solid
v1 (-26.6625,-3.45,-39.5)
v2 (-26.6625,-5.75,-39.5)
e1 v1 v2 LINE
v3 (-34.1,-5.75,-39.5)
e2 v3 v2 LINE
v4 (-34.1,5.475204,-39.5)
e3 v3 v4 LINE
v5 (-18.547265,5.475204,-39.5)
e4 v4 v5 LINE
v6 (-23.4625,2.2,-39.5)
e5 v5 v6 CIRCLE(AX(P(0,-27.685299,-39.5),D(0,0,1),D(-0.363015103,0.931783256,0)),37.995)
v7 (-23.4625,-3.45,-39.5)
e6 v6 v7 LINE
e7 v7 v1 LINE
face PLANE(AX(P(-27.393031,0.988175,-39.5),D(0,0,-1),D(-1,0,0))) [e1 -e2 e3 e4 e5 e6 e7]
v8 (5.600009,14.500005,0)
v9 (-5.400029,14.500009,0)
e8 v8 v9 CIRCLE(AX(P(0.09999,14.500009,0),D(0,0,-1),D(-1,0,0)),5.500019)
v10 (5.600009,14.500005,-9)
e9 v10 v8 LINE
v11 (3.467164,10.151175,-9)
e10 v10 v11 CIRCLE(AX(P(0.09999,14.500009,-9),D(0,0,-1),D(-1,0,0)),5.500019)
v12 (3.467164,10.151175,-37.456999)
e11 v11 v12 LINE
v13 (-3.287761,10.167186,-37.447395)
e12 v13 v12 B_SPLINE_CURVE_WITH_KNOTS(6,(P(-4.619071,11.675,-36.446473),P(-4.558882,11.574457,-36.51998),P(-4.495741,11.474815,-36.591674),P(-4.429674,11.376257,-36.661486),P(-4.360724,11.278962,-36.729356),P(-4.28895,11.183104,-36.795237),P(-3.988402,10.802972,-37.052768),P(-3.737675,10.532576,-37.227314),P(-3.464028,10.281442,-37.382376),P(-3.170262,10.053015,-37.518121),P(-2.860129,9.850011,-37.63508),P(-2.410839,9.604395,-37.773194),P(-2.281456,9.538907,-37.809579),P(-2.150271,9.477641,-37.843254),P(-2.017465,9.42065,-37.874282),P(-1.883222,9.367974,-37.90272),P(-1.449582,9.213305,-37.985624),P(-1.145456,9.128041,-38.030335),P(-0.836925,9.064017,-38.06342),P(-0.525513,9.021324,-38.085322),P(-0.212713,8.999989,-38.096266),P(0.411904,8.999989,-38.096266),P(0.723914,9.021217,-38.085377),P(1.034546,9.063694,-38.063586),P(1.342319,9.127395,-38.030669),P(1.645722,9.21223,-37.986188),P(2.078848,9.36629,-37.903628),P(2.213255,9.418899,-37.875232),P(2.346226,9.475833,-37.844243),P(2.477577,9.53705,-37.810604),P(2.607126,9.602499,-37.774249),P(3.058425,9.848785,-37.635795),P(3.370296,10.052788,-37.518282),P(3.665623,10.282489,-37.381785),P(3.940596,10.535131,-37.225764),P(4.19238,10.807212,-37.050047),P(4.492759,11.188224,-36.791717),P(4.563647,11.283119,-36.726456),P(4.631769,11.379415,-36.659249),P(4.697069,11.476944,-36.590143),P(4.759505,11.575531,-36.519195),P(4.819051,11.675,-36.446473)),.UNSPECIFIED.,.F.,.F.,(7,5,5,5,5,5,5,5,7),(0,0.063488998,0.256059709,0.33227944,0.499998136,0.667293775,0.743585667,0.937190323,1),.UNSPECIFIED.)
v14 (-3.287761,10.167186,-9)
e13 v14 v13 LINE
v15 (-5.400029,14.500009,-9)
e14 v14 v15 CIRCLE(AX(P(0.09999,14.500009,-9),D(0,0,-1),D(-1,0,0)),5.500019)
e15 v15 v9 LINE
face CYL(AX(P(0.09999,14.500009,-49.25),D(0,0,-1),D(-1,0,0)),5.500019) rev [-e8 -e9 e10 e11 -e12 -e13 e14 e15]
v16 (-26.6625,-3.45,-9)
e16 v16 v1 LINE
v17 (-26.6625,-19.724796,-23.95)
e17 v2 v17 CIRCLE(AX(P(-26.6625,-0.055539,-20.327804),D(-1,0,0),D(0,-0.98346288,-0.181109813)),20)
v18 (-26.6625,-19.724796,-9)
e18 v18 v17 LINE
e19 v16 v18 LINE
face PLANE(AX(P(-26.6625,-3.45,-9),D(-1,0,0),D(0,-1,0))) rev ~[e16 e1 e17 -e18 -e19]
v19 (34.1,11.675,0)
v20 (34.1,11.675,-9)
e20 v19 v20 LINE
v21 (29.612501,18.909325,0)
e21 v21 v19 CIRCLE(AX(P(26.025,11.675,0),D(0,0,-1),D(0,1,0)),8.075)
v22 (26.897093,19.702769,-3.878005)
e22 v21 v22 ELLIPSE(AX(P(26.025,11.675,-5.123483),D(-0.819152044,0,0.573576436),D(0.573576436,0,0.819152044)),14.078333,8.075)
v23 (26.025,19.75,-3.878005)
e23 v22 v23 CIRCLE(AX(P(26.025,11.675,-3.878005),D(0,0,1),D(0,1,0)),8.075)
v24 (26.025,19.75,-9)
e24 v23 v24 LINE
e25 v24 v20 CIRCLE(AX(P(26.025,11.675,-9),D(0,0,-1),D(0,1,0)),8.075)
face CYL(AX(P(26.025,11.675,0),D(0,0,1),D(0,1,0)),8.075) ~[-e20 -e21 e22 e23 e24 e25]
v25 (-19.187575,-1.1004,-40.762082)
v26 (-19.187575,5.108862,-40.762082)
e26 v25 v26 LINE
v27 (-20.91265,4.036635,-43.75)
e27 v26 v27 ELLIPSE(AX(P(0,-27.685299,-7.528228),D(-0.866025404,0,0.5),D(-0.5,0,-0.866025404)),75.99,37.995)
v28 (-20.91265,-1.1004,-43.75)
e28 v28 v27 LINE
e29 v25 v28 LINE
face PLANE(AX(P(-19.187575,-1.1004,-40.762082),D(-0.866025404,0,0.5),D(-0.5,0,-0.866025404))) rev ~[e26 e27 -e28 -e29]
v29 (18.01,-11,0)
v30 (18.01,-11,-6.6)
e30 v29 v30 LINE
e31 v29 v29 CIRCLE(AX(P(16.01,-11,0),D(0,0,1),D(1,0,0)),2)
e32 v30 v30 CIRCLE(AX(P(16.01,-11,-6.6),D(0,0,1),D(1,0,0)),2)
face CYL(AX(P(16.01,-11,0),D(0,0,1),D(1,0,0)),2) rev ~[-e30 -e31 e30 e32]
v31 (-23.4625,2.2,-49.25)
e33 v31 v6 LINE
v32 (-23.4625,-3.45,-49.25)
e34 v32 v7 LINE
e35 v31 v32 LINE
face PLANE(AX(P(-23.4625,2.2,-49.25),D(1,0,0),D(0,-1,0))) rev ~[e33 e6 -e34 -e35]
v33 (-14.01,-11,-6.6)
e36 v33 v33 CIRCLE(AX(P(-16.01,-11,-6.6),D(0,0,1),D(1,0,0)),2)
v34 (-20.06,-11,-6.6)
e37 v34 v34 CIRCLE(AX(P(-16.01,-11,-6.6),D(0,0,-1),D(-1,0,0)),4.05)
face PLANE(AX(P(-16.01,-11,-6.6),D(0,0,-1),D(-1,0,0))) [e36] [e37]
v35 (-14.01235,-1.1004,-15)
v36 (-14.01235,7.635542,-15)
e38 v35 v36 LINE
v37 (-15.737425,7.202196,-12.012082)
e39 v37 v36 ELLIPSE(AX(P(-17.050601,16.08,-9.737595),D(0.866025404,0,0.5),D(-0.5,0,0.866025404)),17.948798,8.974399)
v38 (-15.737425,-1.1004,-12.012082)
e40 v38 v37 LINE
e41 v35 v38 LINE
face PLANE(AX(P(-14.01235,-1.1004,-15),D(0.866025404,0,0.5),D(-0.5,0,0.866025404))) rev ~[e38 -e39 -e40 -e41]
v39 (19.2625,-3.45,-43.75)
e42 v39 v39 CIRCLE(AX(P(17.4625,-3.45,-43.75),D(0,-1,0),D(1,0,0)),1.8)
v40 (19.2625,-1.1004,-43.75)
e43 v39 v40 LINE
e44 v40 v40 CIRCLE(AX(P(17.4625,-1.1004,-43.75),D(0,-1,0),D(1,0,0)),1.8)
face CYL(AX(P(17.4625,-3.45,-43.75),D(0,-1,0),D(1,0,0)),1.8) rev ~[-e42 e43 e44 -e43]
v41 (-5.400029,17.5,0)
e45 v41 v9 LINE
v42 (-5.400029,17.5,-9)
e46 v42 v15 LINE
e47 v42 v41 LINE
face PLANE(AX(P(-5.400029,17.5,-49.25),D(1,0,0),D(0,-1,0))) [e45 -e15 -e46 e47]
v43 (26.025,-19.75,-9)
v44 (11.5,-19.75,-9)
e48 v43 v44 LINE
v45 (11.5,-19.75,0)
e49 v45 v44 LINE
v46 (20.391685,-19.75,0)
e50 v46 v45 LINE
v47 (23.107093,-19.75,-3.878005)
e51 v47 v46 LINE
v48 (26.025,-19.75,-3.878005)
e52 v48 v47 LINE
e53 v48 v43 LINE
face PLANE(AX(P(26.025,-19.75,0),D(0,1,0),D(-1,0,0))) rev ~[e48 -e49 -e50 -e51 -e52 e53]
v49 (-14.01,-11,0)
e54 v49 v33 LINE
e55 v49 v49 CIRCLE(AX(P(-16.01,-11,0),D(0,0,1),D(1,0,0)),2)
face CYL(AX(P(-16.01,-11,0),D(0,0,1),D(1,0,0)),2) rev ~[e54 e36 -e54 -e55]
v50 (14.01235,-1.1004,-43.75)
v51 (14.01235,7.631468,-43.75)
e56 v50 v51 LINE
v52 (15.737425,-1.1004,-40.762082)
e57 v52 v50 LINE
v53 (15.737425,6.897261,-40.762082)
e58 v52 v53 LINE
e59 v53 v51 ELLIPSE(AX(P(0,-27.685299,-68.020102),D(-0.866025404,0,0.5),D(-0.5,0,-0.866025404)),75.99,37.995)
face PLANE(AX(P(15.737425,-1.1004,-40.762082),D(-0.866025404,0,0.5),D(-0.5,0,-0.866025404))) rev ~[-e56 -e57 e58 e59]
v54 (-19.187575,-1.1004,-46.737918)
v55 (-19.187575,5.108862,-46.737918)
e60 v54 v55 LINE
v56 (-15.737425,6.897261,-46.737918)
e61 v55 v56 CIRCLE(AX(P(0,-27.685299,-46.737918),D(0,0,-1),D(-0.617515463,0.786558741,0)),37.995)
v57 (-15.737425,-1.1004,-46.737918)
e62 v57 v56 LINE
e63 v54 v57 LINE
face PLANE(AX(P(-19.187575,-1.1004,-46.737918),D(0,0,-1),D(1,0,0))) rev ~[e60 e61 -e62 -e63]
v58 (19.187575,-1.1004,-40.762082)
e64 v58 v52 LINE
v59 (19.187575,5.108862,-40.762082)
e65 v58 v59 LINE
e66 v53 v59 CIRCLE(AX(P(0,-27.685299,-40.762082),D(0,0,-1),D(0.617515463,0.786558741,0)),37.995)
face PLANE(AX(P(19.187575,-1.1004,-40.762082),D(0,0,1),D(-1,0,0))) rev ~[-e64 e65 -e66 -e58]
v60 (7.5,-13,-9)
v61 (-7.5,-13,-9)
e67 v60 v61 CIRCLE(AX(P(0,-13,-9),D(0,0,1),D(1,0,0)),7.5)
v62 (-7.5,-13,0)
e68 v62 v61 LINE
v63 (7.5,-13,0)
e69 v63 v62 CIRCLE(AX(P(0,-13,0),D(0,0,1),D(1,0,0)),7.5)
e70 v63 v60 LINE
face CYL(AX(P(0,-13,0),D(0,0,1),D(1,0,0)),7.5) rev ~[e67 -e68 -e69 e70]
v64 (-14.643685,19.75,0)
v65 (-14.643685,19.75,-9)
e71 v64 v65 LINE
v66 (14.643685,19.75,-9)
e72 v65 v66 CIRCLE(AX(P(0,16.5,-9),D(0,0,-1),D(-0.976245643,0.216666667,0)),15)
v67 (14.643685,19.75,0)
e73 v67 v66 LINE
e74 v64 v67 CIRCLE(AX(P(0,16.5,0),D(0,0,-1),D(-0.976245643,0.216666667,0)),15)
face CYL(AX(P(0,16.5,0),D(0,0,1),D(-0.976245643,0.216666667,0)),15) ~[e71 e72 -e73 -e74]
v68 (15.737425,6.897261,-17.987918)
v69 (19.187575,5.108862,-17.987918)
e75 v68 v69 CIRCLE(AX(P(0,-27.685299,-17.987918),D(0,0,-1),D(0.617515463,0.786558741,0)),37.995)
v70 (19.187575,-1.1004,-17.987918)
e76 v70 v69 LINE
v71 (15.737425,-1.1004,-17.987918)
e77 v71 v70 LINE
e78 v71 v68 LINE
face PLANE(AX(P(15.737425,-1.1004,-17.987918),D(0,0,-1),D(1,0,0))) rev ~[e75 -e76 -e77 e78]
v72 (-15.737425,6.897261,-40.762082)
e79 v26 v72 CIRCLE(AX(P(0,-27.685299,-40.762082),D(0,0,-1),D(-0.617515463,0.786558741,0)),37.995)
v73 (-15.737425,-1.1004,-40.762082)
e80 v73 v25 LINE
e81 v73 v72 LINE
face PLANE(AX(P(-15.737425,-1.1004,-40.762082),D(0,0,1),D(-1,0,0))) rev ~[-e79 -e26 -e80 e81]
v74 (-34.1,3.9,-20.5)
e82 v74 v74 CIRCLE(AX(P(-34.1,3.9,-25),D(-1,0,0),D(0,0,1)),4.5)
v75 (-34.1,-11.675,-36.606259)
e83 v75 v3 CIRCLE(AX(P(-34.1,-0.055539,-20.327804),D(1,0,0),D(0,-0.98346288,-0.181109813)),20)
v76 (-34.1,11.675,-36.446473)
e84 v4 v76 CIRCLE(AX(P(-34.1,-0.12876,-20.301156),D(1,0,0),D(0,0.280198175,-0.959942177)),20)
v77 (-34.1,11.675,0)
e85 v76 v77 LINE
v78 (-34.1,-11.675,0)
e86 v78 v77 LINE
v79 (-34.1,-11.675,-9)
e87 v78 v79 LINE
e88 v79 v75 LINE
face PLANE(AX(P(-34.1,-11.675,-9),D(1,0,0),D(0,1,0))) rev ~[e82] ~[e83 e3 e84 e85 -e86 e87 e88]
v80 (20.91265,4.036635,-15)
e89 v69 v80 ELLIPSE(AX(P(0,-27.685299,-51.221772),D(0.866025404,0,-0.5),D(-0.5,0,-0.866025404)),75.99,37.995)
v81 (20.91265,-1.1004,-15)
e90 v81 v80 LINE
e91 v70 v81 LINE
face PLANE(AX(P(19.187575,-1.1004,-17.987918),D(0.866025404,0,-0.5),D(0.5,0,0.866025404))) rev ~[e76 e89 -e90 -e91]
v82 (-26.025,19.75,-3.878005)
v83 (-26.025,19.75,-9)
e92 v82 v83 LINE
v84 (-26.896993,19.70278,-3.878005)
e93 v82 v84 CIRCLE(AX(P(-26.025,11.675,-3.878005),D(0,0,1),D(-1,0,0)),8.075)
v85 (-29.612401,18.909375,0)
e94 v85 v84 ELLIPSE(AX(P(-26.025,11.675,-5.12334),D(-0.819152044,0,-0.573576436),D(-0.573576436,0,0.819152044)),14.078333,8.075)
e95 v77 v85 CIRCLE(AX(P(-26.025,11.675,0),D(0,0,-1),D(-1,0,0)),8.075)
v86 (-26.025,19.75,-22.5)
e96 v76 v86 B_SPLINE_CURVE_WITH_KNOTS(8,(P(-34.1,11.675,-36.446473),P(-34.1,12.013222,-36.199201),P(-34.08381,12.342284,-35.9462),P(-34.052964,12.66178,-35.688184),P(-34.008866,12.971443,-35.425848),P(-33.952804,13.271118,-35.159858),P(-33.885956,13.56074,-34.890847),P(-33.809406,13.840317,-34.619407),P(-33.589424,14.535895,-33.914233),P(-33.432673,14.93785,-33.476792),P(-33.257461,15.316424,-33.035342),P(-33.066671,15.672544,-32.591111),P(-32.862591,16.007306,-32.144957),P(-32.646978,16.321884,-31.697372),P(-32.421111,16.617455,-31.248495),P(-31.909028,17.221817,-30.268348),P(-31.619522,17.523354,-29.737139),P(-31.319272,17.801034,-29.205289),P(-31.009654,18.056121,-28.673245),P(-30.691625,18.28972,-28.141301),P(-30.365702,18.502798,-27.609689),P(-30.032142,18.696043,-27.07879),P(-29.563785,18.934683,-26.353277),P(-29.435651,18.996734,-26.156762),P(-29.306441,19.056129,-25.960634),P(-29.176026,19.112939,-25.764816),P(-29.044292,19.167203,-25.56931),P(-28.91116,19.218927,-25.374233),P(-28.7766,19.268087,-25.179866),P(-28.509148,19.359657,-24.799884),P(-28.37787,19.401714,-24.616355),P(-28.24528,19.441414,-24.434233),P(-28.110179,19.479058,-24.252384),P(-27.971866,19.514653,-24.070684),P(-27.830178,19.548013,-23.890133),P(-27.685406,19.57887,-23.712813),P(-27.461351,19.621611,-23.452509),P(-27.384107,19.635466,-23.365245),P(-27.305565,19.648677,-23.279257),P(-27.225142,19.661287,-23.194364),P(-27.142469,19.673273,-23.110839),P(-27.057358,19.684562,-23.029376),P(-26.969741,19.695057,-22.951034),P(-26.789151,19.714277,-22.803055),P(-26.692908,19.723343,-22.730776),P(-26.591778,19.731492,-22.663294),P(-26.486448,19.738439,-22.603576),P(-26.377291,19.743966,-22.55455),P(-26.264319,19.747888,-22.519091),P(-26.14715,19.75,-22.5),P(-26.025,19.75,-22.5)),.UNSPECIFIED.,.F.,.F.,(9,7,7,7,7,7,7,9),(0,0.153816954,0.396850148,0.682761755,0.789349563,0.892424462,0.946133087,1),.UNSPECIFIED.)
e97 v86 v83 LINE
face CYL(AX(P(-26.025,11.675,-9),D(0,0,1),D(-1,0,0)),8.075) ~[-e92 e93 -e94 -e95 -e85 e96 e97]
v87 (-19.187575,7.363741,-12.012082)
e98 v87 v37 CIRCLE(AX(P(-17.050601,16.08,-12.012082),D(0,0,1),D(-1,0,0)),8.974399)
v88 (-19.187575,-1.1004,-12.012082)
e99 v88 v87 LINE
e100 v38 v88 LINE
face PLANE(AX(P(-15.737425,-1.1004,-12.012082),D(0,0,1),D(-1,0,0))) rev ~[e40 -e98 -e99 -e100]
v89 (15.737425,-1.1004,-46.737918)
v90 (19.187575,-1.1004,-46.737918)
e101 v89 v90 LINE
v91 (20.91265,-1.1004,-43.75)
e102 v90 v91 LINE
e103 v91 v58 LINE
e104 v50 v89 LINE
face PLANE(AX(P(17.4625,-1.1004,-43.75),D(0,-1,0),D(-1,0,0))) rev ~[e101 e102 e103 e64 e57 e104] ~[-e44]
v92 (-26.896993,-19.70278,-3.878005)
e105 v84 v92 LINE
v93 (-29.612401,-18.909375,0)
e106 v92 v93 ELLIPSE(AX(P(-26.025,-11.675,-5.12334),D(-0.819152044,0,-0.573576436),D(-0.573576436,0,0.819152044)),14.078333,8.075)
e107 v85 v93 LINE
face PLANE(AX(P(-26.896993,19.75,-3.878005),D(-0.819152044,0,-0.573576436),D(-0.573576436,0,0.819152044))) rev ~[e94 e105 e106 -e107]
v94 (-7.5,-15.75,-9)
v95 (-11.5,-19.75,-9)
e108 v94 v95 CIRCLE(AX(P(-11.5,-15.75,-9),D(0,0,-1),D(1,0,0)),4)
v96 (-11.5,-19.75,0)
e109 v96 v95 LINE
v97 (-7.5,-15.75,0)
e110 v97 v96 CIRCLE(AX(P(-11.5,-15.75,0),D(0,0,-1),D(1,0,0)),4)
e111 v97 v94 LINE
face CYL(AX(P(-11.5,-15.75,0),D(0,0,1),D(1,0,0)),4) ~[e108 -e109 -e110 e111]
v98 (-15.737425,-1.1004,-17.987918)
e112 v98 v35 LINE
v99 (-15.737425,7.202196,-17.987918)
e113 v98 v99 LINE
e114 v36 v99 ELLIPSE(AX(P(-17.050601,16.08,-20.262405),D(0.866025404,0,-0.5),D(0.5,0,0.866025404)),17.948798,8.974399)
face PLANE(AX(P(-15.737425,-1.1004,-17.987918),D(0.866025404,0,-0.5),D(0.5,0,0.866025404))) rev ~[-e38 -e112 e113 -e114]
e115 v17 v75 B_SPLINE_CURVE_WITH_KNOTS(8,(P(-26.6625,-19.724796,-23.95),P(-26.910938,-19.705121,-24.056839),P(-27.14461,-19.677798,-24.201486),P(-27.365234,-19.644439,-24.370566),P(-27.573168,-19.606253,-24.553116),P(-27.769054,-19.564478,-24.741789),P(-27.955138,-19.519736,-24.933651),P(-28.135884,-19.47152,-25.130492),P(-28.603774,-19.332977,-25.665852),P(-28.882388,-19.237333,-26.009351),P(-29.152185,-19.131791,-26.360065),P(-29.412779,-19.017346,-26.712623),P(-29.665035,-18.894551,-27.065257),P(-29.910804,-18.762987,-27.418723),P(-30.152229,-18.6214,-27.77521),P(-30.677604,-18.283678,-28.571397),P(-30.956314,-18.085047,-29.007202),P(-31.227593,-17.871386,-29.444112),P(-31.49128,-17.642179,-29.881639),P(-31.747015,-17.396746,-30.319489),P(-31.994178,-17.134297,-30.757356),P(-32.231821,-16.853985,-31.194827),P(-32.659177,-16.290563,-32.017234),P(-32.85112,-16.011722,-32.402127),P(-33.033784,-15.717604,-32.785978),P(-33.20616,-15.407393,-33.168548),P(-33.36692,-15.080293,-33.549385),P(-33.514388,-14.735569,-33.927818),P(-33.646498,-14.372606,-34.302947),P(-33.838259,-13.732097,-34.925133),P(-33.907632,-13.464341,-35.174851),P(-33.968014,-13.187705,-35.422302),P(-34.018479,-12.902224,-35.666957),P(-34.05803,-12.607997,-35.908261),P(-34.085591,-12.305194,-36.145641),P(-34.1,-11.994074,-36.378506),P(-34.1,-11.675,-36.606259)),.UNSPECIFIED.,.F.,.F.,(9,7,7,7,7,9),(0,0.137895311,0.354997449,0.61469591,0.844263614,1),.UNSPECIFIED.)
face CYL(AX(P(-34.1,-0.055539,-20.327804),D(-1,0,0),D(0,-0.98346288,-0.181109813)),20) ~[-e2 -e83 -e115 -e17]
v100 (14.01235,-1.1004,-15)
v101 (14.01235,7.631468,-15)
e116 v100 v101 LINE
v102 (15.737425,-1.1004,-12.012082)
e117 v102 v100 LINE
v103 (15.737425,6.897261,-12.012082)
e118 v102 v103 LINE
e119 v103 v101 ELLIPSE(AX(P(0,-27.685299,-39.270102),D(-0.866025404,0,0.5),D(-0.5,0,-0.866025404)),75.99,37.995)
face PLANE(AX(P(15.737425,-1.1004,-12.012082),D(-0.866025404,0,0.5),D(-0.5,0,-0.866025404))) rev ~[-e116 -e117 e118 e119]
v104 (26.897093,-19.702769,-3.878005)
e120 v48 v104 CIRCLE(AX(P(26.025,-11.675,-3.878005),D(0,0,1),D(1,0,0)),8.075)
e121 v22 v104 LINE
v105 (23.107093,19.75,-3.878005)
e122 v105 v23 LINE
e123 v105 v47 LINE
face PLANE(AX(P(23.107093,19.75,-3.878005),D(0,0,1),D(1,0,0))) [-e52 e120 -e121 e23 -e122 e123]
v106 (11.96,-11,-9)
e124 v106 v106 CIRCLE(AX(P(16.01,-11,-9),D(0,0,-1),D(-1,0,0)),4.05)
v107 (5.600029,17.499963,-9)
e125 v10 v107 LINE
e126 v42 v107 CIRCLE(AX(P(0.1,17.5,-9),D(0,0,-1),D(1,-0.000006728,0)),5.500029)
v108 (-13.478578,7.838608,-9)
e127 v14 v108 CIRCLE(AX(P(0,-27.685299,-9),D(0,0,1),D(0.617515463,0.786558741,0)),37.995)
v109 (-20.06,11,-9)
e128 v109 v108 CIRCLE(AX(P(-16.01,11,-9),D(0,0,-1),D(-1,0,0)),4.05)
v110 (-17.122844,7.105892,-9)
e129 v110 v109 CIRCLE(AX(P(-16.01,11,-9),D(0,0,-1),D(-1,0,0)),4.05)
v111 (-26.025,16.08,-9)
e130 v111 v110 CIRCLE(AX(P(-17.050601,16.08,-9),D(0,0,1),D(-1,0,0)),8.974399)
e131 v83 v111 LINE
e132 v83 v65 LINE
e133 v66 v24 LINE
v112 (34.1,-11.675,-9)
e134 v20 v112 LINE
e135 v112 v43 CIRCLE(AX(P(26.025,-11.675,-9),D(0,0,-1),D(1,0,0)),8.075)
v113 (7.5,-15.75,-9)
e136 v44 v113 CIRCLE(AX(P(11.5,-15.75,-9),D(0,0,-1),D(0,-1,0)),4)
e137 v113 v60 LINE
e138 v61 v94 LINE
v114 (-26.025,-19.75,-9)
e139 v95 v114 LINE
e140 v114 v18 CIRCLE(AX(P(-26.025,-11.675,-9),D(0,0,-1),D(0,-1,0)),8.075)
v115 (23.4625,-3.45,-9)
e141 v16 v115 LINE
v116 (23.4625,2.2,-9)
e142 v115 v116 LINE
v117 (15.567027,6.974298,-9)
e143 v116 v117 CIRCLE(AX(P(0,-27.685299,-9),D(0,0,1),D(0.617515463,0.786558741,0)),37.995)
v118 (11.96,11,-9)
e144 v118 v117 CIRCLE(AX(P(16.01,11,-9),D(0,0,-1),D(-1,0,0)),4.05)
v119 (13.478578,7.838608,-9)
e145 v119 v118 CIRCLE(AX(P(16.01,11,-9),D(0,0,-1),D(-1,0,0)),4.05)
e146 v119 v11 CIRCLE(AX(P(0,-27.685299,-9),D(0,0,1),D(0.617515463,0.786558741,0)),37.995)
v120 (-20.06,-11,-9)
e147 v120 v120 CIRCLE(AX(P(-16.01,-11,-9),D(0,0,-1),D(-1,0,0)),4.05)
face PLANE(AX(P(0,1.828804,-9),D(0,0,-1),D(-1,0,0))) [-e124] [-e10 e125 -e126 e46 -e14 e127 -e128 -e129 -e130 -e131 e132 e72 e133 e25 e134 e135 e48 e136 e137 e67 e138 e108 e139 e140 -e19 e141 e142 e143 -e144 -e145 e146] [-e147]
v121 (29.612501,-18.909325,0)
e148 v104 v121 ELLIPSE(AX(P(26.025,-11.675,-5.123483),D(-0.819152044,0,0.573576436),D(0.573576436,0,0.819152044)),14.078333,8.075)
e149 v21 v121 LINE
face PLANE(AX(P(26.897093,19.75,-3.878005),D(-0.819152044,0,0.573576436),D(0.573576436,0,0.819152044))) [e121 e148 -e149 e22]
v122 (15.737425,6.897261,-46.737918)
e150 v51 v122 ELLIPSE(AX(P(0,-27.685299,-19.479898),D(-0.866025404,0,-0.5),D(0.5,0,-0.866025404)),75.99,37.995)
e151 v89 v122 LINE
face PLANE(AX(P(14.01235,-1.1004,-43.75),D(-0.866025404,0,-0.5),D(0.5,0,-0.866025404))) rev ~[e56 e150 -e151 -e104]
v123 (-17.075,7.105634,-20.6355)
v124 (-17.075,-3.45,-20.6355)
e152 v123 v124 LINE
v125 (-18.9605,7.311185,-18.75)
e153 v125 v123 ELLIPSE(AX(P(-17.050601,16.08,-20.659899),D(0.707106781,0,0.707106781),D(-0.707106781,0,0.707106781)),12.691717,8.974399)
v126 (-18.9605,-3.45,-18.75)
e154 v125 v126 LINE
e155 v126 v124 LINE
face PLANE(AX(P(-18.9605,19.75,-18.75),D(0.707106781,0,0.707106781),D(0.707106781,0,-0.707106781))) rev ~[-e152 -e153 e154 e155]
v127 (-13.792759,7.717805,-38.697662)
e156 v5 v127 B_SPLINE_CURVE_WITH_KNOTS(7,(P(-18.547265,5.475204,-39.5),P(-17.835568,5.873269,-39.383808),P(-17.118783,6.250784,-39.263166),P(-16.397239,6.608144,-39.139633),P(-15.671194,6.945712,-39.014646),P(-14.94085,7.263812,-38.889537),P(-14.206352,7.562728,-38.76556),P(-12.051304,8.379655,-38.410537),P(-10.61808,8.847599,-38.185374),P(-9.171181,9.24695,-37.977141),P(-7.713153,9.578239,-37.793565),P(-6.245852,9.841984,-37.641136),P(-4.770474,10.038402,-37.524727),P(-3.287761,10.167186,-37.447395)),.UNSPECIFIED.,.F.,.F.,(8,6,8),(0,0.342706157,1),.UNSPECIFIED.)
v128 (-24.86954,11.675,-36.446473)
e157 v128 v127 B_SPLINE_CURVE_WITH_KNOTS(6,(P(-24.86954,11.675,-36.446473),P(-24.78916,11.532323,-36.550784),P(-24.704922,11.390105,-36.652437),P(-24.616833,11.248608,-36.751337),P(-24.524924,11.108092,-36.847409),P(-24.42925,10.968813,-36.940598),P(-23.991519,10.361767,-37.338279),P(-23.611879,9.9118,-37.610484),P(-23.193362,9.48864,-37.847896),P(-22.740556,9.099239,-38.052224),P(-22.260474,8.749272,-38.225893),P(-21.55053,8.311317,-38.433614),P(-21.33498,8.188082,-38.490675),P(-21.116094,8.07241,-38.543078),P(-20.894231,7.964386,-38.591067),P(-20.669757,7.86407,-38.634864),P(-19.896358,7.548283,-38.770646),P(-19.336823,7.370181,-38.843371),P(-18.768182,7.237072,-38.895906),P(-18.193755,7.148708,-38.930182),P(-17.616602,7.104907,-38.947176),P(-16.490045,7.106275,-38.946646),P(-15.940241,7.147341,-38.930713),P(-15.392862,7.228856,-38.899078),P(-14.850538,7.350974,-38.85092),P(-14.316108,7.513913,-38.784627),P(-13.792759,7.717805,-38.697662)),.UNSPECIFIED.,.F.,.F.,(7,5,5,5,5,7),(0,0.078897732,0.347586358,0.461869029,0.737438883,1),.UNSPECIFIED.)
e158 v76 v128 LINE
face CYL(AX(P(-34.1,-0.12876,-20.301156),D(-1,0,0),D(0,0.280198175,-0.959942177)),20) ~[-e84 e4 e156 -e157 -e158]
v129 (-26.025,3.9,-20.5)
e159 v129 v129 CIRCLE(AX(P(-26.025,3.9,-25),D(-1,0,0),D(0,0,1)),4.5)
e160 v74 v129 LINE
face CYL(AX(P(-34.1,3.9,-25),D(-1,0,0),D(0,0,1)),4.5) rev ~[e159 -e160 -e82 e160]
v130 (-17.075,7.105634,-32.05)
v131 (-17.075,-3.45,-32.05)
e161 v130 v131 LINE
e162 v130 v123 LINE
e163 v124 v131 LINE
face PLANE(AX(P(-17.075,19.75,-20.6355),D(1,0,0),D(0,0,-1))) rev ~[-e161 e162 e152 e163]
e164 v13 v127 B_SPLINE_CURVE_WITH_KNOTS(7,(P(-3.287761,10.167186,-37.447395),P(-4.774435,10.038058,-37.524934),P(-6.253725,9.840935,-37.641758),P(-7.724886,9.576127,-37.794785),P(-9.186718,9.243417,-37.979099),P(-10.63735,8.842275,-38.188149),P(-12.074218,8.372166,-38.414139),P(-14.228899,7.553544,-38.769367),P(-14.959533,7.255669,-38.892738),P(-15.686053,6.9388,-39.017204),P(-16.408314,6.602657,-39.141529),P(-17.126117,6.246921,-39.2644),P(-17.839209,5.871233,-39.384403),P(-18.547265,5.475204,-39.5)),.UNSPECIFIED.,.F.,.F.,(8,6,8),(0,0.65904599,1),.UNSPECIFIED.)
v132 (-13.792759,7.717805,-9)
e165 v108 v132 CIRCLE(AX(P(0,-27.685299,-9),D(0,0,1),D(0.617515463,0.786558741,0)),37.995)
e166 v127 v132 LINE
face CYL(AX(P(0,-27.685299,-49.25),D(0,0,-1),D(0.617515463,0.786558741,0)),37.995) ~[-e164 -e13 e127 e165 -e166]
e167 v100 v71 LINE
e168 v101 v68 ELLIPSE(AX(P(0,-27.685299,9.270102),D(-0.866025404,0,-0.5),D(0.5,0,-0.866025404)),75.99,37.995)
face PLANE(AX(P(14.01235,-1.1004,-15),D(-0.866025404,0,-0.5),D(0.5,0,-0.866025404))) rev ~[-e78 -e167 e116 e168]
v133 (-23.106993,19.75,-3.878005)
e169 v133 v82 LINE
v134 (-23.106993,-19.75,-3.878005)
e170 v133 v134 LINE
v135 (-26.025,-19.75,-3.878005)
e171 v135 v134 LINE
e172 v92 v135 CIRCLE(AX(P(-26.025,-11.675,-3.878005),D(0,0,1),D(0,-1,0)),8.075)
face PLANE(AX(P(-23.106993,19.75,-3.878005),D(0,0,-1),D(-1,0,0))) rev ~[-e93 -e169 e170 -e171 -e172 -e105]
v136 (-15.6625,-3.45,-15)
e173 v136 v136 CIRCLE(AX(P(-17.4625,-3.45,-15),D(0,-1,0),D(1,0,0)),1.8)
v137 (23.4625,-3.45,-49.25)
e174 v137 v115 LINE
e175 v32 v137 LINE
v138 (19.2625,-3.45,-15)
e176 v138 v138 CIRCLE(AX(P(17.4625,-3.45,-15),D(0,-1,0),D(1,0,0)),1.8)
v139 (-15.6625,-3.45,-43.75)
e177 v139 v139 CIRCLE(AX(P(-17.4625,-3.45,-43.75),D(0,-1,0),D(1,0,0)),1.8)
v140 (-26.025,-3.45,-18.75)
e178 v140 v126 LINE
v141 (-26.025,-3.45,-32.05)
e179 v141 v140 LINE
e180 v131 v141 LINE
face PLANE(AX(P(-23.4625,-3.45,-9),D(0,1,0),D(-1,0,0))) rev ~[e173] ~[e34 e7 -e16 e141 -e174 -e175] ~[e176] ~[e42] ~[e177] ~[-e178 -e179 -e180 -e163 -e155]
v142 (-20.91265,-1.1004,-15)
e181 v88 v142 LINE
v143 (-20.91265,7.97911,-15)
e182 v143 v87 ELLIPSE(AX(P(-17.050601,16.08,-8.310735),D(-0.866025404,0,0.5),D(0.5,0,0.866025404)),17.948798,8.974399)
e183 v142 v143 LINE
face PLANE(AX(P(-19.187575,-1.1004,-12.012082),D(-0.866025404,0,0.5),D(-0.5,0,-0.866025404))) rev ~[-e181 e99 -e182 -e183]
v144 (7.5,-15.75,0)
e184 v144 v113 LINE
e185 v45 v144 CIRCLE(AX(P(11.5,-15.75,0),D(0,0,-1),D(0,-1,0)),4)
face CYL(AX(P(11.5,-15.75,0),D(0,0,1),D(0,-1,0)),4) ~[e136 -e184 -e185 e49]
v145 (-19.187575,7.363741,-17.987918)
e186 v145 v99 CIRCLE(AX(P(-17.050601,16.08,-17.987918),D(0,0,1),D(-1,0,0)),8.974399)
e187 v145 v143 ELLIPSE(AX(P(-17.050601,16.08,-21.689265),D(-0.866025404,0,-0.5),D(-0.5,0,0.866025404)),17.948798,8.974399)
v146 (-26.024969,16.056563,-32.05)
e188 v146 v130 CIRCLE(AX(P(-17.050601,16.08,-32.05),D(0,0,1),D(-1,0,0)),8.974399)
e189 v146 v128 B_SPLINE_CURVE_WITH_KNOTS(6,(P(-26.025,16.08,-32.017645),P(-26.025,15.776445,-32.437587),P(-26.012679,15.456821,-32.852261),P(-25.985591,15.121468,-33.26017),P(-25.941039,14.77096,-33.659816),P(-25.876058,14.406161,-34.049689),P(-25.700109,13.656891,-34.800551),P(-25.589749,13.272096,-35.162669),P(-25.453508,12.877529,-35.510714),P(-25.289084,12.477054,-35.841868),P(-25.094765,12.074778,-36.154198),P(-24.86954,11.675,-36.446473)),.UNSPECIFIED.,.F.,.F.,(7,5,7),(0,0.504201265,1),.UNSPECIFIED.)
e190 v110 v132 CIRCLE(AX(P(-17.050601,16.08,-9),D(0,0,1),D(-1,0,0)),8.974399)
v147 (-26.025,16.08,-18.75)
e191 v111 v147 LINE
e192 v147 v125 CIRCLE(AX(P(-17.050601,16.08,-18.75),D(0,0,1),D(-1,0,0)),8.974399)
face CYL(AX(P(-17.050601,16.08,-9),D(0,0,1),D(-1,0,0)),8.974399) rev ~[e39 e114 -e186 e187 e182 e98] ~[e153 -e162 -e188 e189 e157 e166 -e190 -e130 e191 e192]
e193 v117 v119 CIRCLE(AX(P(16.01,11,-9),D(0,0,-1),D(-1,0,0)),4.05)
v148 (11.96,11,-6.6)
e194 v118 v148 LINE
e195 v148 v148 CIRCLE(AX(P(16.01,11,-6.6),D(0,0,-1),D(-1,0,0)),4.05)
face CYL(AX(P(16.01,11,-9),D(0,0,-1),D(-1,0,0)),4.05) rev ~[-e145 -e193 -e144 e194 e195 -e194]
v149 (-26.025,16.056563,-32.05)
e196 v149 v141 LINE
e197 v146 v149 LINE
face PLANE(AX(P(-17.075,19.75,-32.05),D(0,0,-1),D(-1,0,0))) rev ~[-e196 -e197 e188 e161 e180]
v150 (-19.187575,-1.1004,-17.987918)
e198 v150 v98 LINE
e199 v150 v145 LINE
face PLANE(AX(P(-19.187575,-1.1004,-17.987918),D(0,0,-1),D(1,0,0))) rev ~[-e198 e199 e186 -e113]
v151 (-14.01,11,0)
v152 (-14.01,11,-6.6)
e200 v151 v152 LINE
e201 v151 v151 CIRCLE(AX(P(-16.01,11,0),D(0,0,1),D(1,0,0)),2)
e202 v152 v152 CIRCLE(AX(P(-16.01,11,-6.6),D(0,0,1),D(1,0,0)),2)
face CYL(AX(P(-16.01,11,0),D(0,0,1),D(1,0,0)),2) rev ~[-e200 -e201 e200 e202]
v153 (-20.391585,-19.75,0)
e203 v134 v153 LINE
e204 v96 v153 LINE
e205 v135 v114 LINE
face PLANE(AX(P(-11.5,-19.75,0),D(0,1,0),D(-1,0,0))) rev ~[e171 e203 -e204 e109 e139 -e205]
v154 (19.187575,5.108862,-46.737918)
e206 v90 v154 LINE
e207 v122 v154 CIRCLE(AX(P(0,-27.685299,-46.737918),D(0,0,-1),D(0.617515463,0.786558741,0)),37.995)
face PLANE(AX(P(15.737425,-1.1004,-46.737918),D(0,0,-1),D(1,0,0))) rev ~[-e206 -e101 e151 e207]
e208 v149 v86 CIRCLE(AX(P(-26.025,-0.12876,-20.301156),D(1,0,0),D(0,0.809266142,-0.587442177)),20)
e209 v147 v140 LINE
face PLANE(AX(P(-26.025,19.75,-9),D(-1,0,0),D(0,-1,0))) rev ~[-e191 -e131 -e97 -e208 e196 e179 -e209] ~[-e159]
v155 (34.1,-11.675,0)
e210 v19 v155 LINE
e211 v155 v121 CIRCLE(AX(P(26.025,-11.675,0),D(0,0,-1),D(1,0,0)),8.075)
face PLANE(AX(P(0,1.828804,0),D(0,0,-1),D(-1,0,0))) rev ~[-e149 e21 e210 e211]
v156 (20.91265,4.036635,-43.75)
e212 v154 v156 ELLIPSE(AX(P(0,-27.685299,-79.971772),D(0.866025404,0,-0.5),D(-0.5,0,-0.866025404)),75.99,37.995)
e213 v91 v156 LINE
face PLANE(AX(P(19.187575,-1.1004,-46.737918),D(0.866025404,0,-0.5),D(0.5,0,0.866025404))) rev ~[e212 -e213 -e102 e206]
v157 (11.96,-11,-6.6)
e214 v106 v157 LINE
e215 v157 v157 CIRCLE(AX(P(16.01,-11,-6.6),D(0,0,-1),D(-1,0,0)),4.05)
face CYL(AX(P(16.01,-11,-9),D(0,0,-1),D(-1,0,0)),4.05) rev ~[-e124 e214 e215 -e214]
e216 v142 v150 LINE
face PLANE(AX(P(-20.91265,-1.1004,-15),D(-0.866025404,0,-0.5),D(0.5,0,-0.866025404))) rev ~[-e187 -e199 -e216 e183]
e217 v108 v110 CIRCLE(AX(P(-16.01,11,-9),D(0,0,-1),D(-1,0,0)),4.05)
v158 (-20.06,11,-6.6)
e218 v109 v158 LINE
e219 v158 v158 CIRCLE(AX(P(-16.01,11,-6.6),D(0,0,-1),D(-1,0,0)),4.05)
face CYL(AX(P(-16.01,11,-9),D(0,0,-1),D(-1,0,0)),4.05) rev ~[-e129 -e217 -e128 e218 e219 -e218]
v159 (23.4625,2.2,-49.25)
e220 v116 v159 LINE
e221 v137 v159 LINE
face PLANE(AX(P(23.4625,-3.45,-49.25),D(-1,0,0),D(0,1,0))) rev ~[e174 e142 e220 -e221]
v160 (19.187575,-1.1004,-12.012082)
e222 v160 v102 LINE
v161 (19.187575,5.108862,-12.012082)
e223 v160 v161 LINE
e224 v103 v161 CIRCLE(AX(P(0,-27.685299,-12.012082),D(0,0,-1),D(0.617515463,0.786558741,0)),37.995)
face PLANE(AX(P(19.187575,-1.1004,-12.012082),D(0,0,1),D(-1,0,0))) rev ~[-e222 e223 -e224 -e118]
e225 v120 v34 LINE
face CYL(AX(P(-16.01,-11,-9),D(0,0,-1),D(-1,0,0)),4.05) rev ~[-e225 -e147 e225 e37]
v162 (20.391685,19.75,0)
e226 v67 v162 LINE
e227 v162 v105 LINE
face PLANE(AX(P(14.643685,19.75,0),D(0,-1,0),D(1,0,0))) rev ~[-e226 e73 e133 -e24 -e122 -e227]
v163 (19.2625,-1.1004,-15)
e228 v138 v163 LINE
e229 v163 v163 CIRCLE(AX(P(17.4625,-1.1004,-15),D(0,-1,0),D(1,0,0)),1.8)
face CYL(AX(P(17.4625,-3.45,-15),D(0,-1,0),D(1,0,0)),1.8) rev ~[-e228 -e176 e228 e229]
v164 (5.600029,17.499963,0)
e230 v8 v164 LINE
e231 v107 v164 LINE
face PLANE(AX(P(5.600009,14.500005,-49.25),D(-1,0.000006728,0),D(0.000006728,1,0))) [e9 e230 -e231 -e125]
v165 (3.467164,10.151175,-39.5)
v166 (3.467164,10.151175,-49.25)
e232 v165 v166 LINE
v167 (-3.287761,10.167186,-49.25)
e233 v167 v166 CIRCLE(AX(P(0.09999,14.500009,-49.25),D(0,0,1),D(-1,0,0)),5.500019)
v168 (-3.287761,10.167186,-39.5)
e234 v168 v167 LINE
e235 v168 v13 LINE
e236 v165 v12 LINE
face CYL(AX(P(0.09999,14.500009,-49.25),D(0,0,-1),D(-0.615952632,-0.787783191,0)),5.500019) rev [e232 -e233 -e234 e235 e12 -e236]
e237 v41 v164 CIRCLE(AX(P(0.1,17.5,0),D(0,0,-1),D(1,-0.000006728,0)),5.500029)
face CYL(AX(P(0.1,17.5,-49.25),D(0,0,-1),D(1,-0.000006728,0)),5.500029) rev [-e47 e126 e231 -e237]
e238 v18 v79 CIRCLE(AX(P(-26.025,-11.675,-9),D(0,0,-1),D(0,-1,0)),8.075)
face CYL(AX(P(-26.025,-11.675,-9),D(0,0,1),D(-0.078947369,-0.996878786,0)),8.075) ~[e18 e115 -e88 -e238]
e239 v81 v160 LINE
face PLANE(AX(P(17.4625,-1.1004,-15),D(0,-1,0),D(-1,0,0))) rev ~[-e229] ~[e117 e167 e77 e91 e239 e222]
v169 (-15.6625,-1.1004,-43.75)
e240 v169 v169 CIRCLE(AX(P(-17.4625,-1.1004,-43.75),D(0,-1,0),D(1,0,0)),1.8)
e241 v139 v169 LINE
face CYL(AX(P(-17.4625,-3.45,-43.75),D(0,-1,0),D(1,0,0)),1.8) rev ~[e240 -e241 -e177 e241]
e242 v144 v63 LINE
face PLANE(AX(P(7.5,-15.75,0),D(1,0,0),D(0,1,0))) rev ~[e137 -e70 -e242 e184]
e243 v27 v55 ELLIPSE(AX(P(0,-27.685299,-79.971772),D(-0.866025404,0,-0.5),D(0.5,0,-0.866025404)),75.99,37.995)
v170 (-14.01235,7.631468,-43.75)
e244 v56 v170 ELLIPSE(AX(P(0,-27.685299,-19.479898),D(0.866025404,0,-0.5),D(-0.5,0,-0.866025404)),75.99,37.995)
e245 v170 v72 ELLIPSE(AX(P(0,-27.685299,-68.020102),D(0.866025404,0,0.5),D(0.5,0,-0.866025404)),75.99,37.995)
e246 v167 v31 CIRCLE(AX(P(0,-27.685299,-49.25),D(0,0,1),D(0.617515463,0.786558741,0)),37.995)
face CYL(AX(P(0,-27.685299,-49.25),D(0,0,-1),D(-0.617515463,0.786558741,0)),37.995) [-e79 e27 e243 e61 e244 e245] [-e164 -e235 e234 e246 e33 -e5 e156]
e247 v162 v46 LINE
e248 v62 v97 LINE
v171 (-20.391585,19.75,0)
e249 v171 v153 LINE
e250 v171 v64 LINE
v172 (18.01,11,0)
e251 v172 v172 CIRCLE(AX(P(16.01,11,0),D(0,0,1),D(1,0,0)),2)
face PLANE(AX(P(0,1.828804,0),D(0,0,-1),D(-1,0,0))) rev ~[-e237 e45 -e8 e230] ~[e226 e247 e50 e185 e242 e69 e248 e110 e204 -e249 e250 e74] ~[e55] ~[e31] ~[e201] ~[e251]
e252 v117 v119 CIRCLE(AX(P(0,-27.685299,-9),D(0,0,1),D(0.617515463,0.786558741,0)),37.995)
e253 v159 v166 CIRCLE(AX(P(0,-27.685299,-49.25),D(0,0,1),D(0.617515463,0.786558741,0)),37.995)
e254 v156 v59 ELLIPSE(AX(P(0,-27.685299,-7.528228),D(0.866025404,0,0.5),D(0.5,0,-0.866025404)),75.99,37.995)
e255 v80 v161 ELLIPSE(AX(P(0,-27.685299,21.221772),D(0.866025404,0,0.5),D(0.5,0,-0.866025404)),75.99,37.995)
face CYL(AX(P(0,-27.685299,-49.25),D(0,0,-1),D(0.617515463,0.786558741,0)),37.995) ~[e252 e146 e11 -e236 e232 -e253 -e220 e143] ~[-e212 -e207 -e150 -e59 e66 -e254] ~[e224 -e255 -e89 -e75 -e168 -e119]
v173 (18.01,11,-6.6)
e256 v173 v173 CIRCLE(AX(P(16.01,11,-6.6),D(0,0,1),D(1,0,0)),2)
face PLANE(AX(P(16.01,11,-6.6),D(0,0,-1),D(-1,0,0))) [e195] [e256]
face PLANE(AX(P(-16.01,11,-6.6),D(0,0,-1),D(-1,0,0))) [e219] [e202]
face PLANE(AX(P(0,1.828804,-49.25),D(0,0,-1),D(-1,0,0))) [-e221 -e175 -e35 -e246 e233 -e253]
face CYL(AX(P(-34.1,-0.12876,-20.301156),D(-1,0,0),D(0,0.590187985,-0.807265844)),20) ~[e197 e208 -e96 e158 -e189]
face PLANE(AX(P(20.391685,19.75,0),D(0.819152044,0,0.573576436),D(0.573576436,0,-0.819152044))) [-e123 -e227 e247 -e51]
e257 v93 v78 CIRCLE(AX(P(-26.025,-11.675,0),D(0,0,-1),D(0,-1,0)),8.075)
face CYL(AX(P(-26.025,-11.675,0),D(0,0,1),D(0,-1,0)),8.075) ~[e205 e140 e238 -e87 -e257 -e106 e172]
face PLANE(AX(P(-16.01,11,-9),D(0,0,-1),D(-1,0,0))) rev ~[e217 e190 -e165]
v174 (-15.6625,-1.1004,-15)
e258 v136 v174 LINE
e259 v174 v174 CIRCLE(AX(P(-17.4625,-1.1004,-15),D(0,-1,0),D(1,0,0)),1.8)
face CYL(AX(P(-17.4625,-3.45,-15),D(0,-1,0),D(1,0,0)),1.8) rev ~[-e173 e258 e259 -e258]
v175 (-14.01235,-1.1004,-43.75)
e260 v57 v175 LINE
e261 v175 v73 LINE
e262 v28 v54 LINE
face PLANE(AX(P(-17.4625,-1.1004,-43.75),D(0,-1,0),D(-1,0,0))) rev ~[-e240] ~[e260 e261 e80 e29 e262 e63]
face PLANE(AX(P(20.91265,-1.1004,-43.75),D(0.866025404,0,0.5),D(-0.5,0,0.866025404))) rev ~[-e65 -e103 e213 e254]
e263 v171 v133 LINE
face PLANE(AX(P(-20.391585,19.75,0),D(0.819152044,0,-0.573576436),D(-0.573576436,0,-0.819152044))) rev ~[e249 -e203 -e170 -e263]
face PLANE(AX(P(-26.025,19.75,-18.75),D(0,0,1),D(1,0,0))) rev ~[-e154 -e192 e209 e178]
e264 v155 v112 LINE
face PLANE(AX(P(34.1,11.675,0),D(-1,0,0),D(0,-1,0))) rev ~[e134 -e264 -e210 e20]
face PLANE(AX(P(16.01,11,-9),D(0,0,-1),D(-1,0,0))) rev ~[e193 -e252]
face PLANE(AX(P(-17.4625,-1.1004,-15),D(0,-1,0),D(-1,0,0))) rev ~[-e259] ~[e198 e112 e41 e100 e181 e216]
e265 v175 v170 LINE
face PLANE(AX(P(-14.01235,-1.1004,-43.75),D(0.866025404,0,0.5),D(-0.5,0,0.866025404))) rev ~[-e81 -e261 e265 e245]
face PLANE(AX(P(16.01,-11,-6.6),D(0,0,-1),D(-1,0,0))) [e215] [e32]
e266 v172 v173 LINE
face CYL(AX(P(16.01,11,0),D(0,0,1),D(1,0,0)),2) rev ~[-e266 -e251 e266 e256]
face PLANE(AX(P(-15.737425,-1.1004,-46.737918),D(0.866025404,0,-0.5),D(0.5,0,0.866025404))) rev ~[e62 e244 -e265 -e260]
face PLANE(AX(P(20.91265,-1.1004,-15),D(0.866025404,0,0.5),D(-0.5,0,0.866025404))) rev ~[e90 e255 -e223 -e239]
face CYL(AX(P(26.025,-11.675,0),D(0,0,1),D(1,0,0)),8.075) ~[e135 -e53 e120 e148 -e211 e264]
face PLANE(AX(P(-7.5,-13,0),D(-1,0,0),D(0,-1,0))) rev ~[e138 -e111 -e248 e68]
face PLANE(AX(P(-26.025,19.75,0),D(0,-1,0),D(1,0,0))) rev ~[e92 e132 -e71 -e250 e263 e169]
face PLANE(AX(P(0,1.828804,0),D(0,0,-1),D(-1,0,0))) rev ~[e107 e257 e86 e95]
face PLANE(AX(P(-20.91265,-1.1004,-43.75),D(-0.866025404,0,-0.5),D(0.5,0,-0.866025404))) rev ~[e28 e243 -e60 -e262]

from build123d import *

# Parameters (mm, degrees)
SKETCH1_R           = 2
BOSS_EXTRUDE1_DEPTH = 49.25
SKETCH2_R           = 2
CUT_EXTRUDE1_DEPTH  = 40.25
CUT_EXTRUDE2_DEPTH  = 50.25
BOSS_EXTRUDE2_DEPTH = 30.5
CUT_EXTRUDE3_REACH  = 70.2
BOSS_EXTRUDE3_DEPTH = 19.5
CUT_EXTRUDE4_DEPTH  = 19.5
CUT_EXTRUDE5_DEPTH  = 40.5
SKETCH9_R           = 4.05
CUT_EXTRUDE6_DEPTH  = 2.4
CUT_EXTRUDE7_REACH  = 41.5
CUT_EXTRUDE8_REACH  = 70.2
SKETCH11_R          = 4.5
CUT_EXTRUDE9_REACH  = 36.95
SKETCH12_R          = 1.8
CUT_EXTRUDE10_REACH = 34.6


with BuildPart() as part:
    # Sketch1 → Boss-Extrude1 (new body)
    with BuildSketch(Plane.XY):
        with BuildLine():
            Line((14.643684646, 19.75), (26.025, 19.75))
            ThreePointArc((26.025, 19.75), (31.734887258, 17.384887258), (34.1, 11.675))
            Line((34.1, 11.675), (34.1, -11.675))
            ThreePointArc((34.1, -11.675), (31.734887258, -17.384887258), (26.025, -19.75))
            Line((26.025, -19.75), (11.5, -19.75))
            ThreePointArc((11.5, -19.75), (8.671572875, -18.578427125), (7.5, -15.75))
            Line((7.5, -15.75), (7.5, -13))
            ThreePointArc((7.5, -13), (0, -5.5), (-7.5, -13))
            Line((-7.5, -13), (-7.5, -15.75))
            ThreePointArc((-7.5, -15.75), (-8.671572875, -18.578427125), (-11.5, -19.75))
            Line((-11.5, -19.75), (-26.025, -19.75))
            ThreePointArc((-26.025, -19.75), (-31.734887258, -17.384887258), (-34.1, -11.675))
            Line((-34.1, -11.675), (-34.1, 11.675))
            ThreePointArc((-34.1, 11.675), (-31.734887258, 17.384887258), (-26.025, 19.75))
            Line((-26.025, 19.75), (-14.643684646, 19.75))
            ThreePointArc((-14.643684646, 19.75), (0, 31.5), (14.643684646, 19.75))
        make_face()
        with Locations((-16.01, -11)):
            Circle(SKETCH1_R, mode=Mode.SUBTRACT)
        with Locations((16.01, -11)):
            Circle(SKETCH1_R, mode=Mode.SUBTRACT)
        with Locations((-16.01, 11)):
            Circle(SKETCH1_R, mode=Mode.SUBTRACT)
        with Locations((16.01, 11)):
            Circle(SKETCH1_R, mode=Mode.SUBTRACT)
    extrude(amount=-BOSS_EXTRUDE1_DEPTH)

    # Sketch2 → Cut-Extrude1 (cut)
    with BuildSketch(Plane(origin=(0, 0, -49.25), x_dir=(-1, 0, 0), z_dir=(0, 0, -1))):
        with BuildLine():
            Line((11.5, -19.75), (26.025, -19.75))
            ThreePointArc((26.025, -19.75), (31.734887258, -17.384887258), (34.1, -11.675))
            Line((34.1, -11.675), (34.1, 11.675))
            ThreePointArc((34.1, 11.675), (31.734887258, 17.384887258), (26.025, 19.75))
            Line((26.025, 19.75), (14.643684646, 19.75))
            ThreePointArc((14.643684646, 19.75), (0, 31.5), (-14.643684646, 19.75))
            Line((-14.643684646, 19.75), (-26.025, 19.75))
            ThreePointArc((-26.025, 19.75), (-31.734887258, 17.384887258), (-34.1, 11.675))
            Line((-34.1, 11.675), (-34.1, -11.675))
            ThreePointArc((-34.1, -11.675), (-31.734887258, -17.384887258), (-26.025, -19.75))
            Line((-26.025, -19.75), (-11.5, -19.75))
            ThreePointArc((-11.5, -19.75), (-8.671572875, -18.578427125), (-7.5, -15.75))
            Line((-7.5, -15.75), (-7.5, -13))
            ThreePointArc((-7.5, -13), (0, -5.5), (7.5, -13))
            Line((7.5, -13), (7.5, -15.75))
            ThreePointArc((7.5, -15.75), (8.671572875, -18.578427125), (11.5, -19.75))
        make_face()
        with Locations((-16.01, -11)):
            Circle(SKETCH2_R, mode=Mode.SUBTRACT)
        with Locations((16.01, -11)):
            Circle(SKETCH2_R, mode=Mode.SUBTRACT)
        with BuildLine():
            Line((23.4625, -3.45), (-23.4625, -3.45))
            Line((-23.4625, -3.45), (-23.4625, 2.2))
            ThreePointArc((-23.4625, 2.2), (0, 10.309700625), (23.4625, 2.2))
            Line((23.4625, 2.2), (23.4625, -3.45))
        make_face(mode=Mode.SUBTRACT)
        with Locations((-16.01, 11)):
            Circle(SKETCH2_R, mode=Mode.SUBTRACT)
        with Locations((16.01, 11)):
            Circle(SKETCH2_R, mode=Mode.SUBTRACT)
    extrude(amount=-CUT_EXTRUDE1_DEPTH, mode=Mode.SUBTRACT)

    # Sketch3 → Cut-Extrude2 (cut, through all)
    with BuildSketch(Plane(origin=(0, 0, -49.25), x_dir=(-1, 0, 0), z_dir=(0, 0, -1))):
        with BuildLine():
            Line((5.400029356, 17.5), (5.400029356, 14.500008735))
            ThreePointArc((5.400029356, 14.500008735), (-0.099987836, 8.999989471), (-5.600009173, 14.500004591))
            Line((-5.600009173, 14.500004591), (-5.600029356, 17.499962997))
            ThreePointArc((-5.600029356, 17.499962997), (-0.100018502, 23.000029356), (5.400029356, 17.5))
        make_face()
    extrude(amount=-CUT_EXTRUDE2_DEPTH, mode=Mode.SUBTRACT)

    # Sketch4 → Boss-Extrude2 (add)
    with BuildSketch(Plane(origin=(0, 0, -9), x_dir=(-1, 0, 0), z_dir=(0, 0, -1))):
        with BuildLine():
            ThreePointArc((34.1, 11.675), (31.734887258, 17.384887258), (26.025, 19.75))
            Line((26.025, 19.75), (26.025, 16.08))
            ThreePointArc((26.025, 16.08), (22.115315274, 8.671322277), (13.792758824, 7.717805418))
            ThreePointArc((13.792758824, 7.717805418), (18.830829022, 5.315002189), (23.4625, 2.2))
            Line((23.4625, 2.2), (23.4625, -3.45))
            Line((23.4625, -3.45), (26.6625, -3.45))
            Line((26.6625, -3.45), (26.6625, -19.724796193))
            ThreePointArc((26.6625, -19.724796193), (31.955996438, -17.154863707), (34.1, -11.675))
            Line((34.1, -11.675), (34.1, 11.675))
        make_face()
    extrude(amount=BOSS_EXTRUDE2_DEPTH)

    # Sketch5 → Cut-Extrude3 (cut, up to next)
    with BuildSketch(Plane.ZY.offset(34.1), mode=Mode.PRIVATE) as cut_extrude3_sk1:
        with BuildLine():
            ThreePointArc((-36.446473341, 11.675), (-30.322556644, 17.17937534), (-22.5, 19.75))
            Line((-22.5, 19.75), (-39.5, 19.75))
            Line((-39.5, 19.75), (-39.5, 11.675))
            Line((-39.5, 11.675), (-36.446473341, 11.675))
        make_face()
    cut_extrude3_tool1 = extrude(cut_extrude3_sk1.sketch, amount=-CUT_EXTRUDE3_REACH, mode=Mode.PRIVATE) & part.part
    add(cut_extrude3_tool1.solids().sort_by_distance((-34.1, 16.750328, -34.812411))[0], mode=Mode.SUBTRACT)
    # Sketch5 → Cut-Extrude3 (cut, up to next)
    with BuildSketch(Plane.ZY.offset(34.1), mode=Mode.PRIVATE) as cut_extrude3_sk2:
        with BuildLine():
            ThreePointArc((-39.5, 5.475203807), (-38.243056783, 8.707993837), (-36.446473341, 11.675))
            Line((-36.446473341, 11.675), (-39.5, 11.675))
            Line((-39.5, 11.675), (-39.5, 5.475203807))
        make_face()
    cut_extrude3_tool2 = extrude(cut_extrude3_sk2.sketch, amount=-CUT_EXTRUDE3_REACH, mode=Mode.PRIVATE) & part.part
    add(cut_extrude3_tool2.solids().sort_by_distance((-34.1, 9.776794, -38.55104))[0], mode=Mode.SUBTRACT)

    # Sketch6 → Boss-Extrude3 (add)
    with BuildSketch(Plane(origin=(0, 0, -49.25), x_dir=(-1, 0, 0), z_dir=(0, 0, -1))):
        with BuildLine():
            Line((-23.4625, 2.2), (-23.4625, -3.45))
            Line((-23.4625, -3.45), (23.4625, -3.45))
            Line((23.4625, -3.45), (23.4625, 2.2))
            ThreePointArc((23.4625, 2.2), (13.955756335, 7.653869971), (3.287761431, 10.167186009))
            ThreePointArc((3.287761431, 10.167186009), (-0.086953501, 9.00000492), (-3.467163514, 10.151175119))
            ThreePointArc((-3.467163514, 10.151175119), (-14.039479716, 7.620692104), (-23.4625, 2.2))
        make_face()
    extrude(amount=-BOSS_EXTRUDE3_DEPTH)

    # Sketch7 → Cut-Extrude4 (cut)
    with BuildSketch(Plane.ZY.offset(34.1)):
        with BuildLine():
            Line((-39.5, -5.75), (-39.5, -19.724796193))
            Line((-39.5, -19.724796193), (-23.95, -19.724796193))
            ThreePointArc((-23.95, -19.724796193), (-33.696416785, -14.931028013), (-39.5, -5.75))
        make_face()
    extrude(amount=-CUT_EXTRUDE4_DEPTH, mode=Mode.SUBTRACT)

    # Sketch8 → Cut-Extrude5 (cut)
    with BuildSketch(Plane(origin=(0, 19.75, 0), x_dir=(1, 0, 0), z_dir=(0, 1, 0))):
        Polygon((-17.075, 32.05), (-26.025, 32.05), (-26.025, 18.75), (-18.960500232, 18.75), (-17.075, 20.635500232), align=None)
    extrude(amount=-CUT_EXTRUDE5_DEPTH, mode=Mode.SUBTRACT)

    # Sketch9 → Cut-Extrude6 (cut)
    with BuildSketch(Plane(origin=(0, 0, -9), x_dir=(-1, 0, 0), z_dir=(0, 0, -1))):
        with Locations((-16.01, 11)):
            Circle(SKETCH9_R)
        with Locations((16.01, 11)):
            Circle(SKETCH9_R)
        with Locations((-16.01, -11)):
            Circle(SKETCH9_R)
        with Locations((16.01, -11)):
            Circle(SKETCH9_R)
    extrude(amount=-CUT_EXTRUDE6_DEPTH, mode=Mode.SUBTRACT)

    # Sketch10 → Cut-Extrude7 (cut, up to next)
    with BuildSketch(Plane(origin=(0, 19.75, 0), x_dir=(1, 0, 0), z_dir=(0, 1, 0)), mode=Mode.PRIVATE) as cut_extrude7_sk1:
        Polygon((20.391684646, 0), (23.107093003, 3.878005034), (26.897093003, 3.878005034), (29.612501361, 0), align=None)
    cut_extrude7_tool1 = extrude(cut_extrude7_sk1.sketch, amount=-CUT_EXTRUDE7_REACH, mode=Mode.PRIVATE) & part.part
    add(cut_extrude7_tool1.solids().sort_by_distance((25.002093, 19.75, -1.669218))[0], mode=Mode.SUBTRACT)
    # Sketch10 → Cut-Extrude7 (cut, up to next)
    with BuildSketch(Plane(origin=(0, 19.75, 0), x_dir=(1, 0, 0), z_dir=(0, 1, 0)), mode=Mode.PRIVATE) as cut_extrude7_sk2:
        Polygon((-20.391584646, 0), (-23.106993003, 3.878005034), (-26.896993003, 3.878005034), (-29.612401361, 0), align=None)
    cut_extrude7_tool2 = extrude(cut_extrude7_sk2.sketch, amount=-CUT_EXTRUDE7_REACH, mode=Mode.PRIVATE) & part.part
    add(cut_extrude7_tool2.solids().sort_by_distance((-25.001993, 19.75, -1.669218))[0], mode=Mode.SUBTRACT)

    # Sketch11 → Cut-Extrude8 (cut, up to next)
    with BuildSketch(Plane.ZY.offset(34.1), mode=Mode.PRIVATE) as cut_extrude8_sk1:
        with Locations((-25, 3.9)):
            Circle(SKETCH11_R)
    cut_extrude8_tool1 = extrude(cut_extrude8_sk1.sketch, amount=-CUT_EXTRUDE8_REACH, mode=Mode.PRIVATE) & part.part
    add(cut_extrude8_tool1.solids().sort_by_distance((-34.1, 3.9, -25))[0], mode=Mode.SUBTRACT)

    # Sketch12 → Cut-Extrude9 (cut, up to next)
    with BuildSketch(Plane.XZ.offset(3.45), mode=Mode.PRIVATE) as cut_extrude9_sk1:
        with Locations((-17.4625, -15)):
            Circle(SKETCH12_R)
    cut_extrude9_tool1 = extrude(cut_extrude9_sk1.sketch, amount=-CUT_EXTRUDE9_REACH, mode=Mode.PRIVATE) & part.part
    add(cut_extrude9_tool1.solids().sort_by_distance((-17.4625, -3.45, -15))[0], mode=Mode.SUBTRACT)
    # Sketch12 → Cut-Extrude9 (cut, up to next)
    with BuildSketch(Plane.XZ.offset(3.45), mode=Mode.PRIVATE) as cut_extrude9_sk2:
        with Locations((-17.4625, -43.75)):
            Circle(SKETCH12_R)
    cut_extrude9_tool2 = extrude(cut_extrude9_sk2.sketch, amount=-CUT_EXTRUDE9_REACH, mode=Mode.PRIVATE) & part.part
    add(cut_extrude9_tool2.solids().sort_by_distance((-17.4625, -3.45, -43.75))[0], mode=Mode.SUBTRACT)
    # Sketch12 → Cut-Extrude9 (cut, up to next)
    with BuildSketch(Plane.XZ.offset(3.45), mode=Mode.PRIVATE) as cut_extrude9_sk3:
        with Locations((17.4625, -15)):
            Circle(SKETCH12_R)
    cut_extrude9_tool3 = extrude(cut_extrude9_sk3.sketch, amount=-CUT_EXTRUDE9_REACH, mode=Mode.PRIVATE) & part.part
    add(cut_extrude9_tool3.solids().sort_by_distance((17.4625, -3.45, -15))[0], mode=Mode.SUBTRACT)
    # Sketch12 → Cut-Extrude9 (cut, up to next)
    with BuildSketch(Plane.XZ.offset(3.45), mode=Mode.PRIVATE) as cut_extrude9_sk4:
        with Locations((17.4625, -43.75)):
            Circle(SKETCH12_R)
    cut_extrude9_tool4 = extrude(cut_extrude9_sk4.sketch, amount=-CUT_EXTRUDE9_REACH, mode=Mode.PRIVATE) & part.part
    add(cut_extrude9_tool4.solids().sort_by_distance((17.4625, -3.45, -43.75))[0], mode=Mode.SUBTRACT)

    # Sketch13 → Cut-Extrude10 (cut, up to next)
    with BuildSketch(Plane(origin=(0, -1.1004, 0), x_dir=(-1, 0, 0), z_dir=(0, -1, 0)), mode=Mode.PRIVATE) as cut_extrude10_sk1:
        Polygon((-15.737425, 46.737917547), (-19.187575, 46.737917547), (-20.91265, 43.75), (-19.187575, 40.762082453), (-15.737425, 40.762082453), (-14.01235, 43.75), align=None)
    cut_extrude10_tool1 = extrude(cut_extrude10_sk1.sketch, amount=-CUT_EXTRUDE10_REACH, mode=Mode.PRIVATE) & part.part
    add(cut_extrude10_tool1.solids().sort_by_distance((17.4625, -1.1004, -43.75))[0], mode=Mode.SUBTRACT)
    # Sketch13 → Cut-Extrude10 (cut, up to next)
    with BuildSketch(Plane(origin=(0, -1.1004, 0), x_dir=(-1, 0, 0), z_dir=(0, -1, 0)), mode=Mode.PRIVATE) as cut_extrude10_sk2:
        Polygon((-15.737425, 17.987917547), (-19.187575, 17.987917547), (-20.91265, 15), (-19.187575, 12.012082453), (-15.737425, 12.012082453), (-14.01235, 15), align=None)
    cut_extrude10_tool2 = extrude(cut_extrude10_sk2.sketch, amount=-CUT_EXTRUDE10_REACH, mode=Mode.PRIVATE) & part.part
    add(cut_extrude10_tool2.solids().sort_by_distance((17.4625, -1.1004, -15))[0], mode=Mode.SUBTRACT)
    # Sketch13 → Cut-Extrude10 (cut, up to next)
    with BuildSketch(Plane(origin=(0, -1.1004, 0), x_dir=(-1, 0, 0), z_dir=(0, -1, 0)), mode=Mode.PRIVATE) as cut_extrude10_sk3:
        Polygon((19.187575, 17.987917547), (15.737425, 17.987917547), (14.01235, 15), (15.737425, 12.012082453), (19.187575, 12.012082453), (20.91265, 15), align=None)
    cut_extrude10_tool3 = extrude(cut_extrude10_sk3.sketch, amount=-CUT_EXTRUDE10_REACH, mode=Mode.PRIVATE) & part.part
    add(cut_extrude10_tool3.solids().sort_by_distance((-17.4625, -1.1004, -15))[0], mode=Mode.SUBTRACT)
    # Sketch13 → Cut-Extrude10 (cut, up to next)
    with BuildSketch(Plane(origin=(0, -1.1004, 0), x_dir=(-1, 0, 0), z_dir=(0, -1, 0)), mode=Mode.PRIVATE) as cut_extrude10_sk4:
        Polygon((15.737425, 40.762082453), (19.187575, 40.762082453), (20.91265, 43.75), (19.187575, 46.737917547), (15.737425, 46.737917547), (14.01235, 43.75), align=None)
    cut_extrude10_tool4 = extrude(cut_extrude10_sk4.sketch, amount=-CUT_EXTRUDE10_REACH, mode=Mode.PRIVATE) & part.part
    add(cut_extrude10_tool4.solids().sort_by_distance((-17.4625, -1.1004, -43.75))[0], mode=Mode.SUBTRACT)


solid = part.part
